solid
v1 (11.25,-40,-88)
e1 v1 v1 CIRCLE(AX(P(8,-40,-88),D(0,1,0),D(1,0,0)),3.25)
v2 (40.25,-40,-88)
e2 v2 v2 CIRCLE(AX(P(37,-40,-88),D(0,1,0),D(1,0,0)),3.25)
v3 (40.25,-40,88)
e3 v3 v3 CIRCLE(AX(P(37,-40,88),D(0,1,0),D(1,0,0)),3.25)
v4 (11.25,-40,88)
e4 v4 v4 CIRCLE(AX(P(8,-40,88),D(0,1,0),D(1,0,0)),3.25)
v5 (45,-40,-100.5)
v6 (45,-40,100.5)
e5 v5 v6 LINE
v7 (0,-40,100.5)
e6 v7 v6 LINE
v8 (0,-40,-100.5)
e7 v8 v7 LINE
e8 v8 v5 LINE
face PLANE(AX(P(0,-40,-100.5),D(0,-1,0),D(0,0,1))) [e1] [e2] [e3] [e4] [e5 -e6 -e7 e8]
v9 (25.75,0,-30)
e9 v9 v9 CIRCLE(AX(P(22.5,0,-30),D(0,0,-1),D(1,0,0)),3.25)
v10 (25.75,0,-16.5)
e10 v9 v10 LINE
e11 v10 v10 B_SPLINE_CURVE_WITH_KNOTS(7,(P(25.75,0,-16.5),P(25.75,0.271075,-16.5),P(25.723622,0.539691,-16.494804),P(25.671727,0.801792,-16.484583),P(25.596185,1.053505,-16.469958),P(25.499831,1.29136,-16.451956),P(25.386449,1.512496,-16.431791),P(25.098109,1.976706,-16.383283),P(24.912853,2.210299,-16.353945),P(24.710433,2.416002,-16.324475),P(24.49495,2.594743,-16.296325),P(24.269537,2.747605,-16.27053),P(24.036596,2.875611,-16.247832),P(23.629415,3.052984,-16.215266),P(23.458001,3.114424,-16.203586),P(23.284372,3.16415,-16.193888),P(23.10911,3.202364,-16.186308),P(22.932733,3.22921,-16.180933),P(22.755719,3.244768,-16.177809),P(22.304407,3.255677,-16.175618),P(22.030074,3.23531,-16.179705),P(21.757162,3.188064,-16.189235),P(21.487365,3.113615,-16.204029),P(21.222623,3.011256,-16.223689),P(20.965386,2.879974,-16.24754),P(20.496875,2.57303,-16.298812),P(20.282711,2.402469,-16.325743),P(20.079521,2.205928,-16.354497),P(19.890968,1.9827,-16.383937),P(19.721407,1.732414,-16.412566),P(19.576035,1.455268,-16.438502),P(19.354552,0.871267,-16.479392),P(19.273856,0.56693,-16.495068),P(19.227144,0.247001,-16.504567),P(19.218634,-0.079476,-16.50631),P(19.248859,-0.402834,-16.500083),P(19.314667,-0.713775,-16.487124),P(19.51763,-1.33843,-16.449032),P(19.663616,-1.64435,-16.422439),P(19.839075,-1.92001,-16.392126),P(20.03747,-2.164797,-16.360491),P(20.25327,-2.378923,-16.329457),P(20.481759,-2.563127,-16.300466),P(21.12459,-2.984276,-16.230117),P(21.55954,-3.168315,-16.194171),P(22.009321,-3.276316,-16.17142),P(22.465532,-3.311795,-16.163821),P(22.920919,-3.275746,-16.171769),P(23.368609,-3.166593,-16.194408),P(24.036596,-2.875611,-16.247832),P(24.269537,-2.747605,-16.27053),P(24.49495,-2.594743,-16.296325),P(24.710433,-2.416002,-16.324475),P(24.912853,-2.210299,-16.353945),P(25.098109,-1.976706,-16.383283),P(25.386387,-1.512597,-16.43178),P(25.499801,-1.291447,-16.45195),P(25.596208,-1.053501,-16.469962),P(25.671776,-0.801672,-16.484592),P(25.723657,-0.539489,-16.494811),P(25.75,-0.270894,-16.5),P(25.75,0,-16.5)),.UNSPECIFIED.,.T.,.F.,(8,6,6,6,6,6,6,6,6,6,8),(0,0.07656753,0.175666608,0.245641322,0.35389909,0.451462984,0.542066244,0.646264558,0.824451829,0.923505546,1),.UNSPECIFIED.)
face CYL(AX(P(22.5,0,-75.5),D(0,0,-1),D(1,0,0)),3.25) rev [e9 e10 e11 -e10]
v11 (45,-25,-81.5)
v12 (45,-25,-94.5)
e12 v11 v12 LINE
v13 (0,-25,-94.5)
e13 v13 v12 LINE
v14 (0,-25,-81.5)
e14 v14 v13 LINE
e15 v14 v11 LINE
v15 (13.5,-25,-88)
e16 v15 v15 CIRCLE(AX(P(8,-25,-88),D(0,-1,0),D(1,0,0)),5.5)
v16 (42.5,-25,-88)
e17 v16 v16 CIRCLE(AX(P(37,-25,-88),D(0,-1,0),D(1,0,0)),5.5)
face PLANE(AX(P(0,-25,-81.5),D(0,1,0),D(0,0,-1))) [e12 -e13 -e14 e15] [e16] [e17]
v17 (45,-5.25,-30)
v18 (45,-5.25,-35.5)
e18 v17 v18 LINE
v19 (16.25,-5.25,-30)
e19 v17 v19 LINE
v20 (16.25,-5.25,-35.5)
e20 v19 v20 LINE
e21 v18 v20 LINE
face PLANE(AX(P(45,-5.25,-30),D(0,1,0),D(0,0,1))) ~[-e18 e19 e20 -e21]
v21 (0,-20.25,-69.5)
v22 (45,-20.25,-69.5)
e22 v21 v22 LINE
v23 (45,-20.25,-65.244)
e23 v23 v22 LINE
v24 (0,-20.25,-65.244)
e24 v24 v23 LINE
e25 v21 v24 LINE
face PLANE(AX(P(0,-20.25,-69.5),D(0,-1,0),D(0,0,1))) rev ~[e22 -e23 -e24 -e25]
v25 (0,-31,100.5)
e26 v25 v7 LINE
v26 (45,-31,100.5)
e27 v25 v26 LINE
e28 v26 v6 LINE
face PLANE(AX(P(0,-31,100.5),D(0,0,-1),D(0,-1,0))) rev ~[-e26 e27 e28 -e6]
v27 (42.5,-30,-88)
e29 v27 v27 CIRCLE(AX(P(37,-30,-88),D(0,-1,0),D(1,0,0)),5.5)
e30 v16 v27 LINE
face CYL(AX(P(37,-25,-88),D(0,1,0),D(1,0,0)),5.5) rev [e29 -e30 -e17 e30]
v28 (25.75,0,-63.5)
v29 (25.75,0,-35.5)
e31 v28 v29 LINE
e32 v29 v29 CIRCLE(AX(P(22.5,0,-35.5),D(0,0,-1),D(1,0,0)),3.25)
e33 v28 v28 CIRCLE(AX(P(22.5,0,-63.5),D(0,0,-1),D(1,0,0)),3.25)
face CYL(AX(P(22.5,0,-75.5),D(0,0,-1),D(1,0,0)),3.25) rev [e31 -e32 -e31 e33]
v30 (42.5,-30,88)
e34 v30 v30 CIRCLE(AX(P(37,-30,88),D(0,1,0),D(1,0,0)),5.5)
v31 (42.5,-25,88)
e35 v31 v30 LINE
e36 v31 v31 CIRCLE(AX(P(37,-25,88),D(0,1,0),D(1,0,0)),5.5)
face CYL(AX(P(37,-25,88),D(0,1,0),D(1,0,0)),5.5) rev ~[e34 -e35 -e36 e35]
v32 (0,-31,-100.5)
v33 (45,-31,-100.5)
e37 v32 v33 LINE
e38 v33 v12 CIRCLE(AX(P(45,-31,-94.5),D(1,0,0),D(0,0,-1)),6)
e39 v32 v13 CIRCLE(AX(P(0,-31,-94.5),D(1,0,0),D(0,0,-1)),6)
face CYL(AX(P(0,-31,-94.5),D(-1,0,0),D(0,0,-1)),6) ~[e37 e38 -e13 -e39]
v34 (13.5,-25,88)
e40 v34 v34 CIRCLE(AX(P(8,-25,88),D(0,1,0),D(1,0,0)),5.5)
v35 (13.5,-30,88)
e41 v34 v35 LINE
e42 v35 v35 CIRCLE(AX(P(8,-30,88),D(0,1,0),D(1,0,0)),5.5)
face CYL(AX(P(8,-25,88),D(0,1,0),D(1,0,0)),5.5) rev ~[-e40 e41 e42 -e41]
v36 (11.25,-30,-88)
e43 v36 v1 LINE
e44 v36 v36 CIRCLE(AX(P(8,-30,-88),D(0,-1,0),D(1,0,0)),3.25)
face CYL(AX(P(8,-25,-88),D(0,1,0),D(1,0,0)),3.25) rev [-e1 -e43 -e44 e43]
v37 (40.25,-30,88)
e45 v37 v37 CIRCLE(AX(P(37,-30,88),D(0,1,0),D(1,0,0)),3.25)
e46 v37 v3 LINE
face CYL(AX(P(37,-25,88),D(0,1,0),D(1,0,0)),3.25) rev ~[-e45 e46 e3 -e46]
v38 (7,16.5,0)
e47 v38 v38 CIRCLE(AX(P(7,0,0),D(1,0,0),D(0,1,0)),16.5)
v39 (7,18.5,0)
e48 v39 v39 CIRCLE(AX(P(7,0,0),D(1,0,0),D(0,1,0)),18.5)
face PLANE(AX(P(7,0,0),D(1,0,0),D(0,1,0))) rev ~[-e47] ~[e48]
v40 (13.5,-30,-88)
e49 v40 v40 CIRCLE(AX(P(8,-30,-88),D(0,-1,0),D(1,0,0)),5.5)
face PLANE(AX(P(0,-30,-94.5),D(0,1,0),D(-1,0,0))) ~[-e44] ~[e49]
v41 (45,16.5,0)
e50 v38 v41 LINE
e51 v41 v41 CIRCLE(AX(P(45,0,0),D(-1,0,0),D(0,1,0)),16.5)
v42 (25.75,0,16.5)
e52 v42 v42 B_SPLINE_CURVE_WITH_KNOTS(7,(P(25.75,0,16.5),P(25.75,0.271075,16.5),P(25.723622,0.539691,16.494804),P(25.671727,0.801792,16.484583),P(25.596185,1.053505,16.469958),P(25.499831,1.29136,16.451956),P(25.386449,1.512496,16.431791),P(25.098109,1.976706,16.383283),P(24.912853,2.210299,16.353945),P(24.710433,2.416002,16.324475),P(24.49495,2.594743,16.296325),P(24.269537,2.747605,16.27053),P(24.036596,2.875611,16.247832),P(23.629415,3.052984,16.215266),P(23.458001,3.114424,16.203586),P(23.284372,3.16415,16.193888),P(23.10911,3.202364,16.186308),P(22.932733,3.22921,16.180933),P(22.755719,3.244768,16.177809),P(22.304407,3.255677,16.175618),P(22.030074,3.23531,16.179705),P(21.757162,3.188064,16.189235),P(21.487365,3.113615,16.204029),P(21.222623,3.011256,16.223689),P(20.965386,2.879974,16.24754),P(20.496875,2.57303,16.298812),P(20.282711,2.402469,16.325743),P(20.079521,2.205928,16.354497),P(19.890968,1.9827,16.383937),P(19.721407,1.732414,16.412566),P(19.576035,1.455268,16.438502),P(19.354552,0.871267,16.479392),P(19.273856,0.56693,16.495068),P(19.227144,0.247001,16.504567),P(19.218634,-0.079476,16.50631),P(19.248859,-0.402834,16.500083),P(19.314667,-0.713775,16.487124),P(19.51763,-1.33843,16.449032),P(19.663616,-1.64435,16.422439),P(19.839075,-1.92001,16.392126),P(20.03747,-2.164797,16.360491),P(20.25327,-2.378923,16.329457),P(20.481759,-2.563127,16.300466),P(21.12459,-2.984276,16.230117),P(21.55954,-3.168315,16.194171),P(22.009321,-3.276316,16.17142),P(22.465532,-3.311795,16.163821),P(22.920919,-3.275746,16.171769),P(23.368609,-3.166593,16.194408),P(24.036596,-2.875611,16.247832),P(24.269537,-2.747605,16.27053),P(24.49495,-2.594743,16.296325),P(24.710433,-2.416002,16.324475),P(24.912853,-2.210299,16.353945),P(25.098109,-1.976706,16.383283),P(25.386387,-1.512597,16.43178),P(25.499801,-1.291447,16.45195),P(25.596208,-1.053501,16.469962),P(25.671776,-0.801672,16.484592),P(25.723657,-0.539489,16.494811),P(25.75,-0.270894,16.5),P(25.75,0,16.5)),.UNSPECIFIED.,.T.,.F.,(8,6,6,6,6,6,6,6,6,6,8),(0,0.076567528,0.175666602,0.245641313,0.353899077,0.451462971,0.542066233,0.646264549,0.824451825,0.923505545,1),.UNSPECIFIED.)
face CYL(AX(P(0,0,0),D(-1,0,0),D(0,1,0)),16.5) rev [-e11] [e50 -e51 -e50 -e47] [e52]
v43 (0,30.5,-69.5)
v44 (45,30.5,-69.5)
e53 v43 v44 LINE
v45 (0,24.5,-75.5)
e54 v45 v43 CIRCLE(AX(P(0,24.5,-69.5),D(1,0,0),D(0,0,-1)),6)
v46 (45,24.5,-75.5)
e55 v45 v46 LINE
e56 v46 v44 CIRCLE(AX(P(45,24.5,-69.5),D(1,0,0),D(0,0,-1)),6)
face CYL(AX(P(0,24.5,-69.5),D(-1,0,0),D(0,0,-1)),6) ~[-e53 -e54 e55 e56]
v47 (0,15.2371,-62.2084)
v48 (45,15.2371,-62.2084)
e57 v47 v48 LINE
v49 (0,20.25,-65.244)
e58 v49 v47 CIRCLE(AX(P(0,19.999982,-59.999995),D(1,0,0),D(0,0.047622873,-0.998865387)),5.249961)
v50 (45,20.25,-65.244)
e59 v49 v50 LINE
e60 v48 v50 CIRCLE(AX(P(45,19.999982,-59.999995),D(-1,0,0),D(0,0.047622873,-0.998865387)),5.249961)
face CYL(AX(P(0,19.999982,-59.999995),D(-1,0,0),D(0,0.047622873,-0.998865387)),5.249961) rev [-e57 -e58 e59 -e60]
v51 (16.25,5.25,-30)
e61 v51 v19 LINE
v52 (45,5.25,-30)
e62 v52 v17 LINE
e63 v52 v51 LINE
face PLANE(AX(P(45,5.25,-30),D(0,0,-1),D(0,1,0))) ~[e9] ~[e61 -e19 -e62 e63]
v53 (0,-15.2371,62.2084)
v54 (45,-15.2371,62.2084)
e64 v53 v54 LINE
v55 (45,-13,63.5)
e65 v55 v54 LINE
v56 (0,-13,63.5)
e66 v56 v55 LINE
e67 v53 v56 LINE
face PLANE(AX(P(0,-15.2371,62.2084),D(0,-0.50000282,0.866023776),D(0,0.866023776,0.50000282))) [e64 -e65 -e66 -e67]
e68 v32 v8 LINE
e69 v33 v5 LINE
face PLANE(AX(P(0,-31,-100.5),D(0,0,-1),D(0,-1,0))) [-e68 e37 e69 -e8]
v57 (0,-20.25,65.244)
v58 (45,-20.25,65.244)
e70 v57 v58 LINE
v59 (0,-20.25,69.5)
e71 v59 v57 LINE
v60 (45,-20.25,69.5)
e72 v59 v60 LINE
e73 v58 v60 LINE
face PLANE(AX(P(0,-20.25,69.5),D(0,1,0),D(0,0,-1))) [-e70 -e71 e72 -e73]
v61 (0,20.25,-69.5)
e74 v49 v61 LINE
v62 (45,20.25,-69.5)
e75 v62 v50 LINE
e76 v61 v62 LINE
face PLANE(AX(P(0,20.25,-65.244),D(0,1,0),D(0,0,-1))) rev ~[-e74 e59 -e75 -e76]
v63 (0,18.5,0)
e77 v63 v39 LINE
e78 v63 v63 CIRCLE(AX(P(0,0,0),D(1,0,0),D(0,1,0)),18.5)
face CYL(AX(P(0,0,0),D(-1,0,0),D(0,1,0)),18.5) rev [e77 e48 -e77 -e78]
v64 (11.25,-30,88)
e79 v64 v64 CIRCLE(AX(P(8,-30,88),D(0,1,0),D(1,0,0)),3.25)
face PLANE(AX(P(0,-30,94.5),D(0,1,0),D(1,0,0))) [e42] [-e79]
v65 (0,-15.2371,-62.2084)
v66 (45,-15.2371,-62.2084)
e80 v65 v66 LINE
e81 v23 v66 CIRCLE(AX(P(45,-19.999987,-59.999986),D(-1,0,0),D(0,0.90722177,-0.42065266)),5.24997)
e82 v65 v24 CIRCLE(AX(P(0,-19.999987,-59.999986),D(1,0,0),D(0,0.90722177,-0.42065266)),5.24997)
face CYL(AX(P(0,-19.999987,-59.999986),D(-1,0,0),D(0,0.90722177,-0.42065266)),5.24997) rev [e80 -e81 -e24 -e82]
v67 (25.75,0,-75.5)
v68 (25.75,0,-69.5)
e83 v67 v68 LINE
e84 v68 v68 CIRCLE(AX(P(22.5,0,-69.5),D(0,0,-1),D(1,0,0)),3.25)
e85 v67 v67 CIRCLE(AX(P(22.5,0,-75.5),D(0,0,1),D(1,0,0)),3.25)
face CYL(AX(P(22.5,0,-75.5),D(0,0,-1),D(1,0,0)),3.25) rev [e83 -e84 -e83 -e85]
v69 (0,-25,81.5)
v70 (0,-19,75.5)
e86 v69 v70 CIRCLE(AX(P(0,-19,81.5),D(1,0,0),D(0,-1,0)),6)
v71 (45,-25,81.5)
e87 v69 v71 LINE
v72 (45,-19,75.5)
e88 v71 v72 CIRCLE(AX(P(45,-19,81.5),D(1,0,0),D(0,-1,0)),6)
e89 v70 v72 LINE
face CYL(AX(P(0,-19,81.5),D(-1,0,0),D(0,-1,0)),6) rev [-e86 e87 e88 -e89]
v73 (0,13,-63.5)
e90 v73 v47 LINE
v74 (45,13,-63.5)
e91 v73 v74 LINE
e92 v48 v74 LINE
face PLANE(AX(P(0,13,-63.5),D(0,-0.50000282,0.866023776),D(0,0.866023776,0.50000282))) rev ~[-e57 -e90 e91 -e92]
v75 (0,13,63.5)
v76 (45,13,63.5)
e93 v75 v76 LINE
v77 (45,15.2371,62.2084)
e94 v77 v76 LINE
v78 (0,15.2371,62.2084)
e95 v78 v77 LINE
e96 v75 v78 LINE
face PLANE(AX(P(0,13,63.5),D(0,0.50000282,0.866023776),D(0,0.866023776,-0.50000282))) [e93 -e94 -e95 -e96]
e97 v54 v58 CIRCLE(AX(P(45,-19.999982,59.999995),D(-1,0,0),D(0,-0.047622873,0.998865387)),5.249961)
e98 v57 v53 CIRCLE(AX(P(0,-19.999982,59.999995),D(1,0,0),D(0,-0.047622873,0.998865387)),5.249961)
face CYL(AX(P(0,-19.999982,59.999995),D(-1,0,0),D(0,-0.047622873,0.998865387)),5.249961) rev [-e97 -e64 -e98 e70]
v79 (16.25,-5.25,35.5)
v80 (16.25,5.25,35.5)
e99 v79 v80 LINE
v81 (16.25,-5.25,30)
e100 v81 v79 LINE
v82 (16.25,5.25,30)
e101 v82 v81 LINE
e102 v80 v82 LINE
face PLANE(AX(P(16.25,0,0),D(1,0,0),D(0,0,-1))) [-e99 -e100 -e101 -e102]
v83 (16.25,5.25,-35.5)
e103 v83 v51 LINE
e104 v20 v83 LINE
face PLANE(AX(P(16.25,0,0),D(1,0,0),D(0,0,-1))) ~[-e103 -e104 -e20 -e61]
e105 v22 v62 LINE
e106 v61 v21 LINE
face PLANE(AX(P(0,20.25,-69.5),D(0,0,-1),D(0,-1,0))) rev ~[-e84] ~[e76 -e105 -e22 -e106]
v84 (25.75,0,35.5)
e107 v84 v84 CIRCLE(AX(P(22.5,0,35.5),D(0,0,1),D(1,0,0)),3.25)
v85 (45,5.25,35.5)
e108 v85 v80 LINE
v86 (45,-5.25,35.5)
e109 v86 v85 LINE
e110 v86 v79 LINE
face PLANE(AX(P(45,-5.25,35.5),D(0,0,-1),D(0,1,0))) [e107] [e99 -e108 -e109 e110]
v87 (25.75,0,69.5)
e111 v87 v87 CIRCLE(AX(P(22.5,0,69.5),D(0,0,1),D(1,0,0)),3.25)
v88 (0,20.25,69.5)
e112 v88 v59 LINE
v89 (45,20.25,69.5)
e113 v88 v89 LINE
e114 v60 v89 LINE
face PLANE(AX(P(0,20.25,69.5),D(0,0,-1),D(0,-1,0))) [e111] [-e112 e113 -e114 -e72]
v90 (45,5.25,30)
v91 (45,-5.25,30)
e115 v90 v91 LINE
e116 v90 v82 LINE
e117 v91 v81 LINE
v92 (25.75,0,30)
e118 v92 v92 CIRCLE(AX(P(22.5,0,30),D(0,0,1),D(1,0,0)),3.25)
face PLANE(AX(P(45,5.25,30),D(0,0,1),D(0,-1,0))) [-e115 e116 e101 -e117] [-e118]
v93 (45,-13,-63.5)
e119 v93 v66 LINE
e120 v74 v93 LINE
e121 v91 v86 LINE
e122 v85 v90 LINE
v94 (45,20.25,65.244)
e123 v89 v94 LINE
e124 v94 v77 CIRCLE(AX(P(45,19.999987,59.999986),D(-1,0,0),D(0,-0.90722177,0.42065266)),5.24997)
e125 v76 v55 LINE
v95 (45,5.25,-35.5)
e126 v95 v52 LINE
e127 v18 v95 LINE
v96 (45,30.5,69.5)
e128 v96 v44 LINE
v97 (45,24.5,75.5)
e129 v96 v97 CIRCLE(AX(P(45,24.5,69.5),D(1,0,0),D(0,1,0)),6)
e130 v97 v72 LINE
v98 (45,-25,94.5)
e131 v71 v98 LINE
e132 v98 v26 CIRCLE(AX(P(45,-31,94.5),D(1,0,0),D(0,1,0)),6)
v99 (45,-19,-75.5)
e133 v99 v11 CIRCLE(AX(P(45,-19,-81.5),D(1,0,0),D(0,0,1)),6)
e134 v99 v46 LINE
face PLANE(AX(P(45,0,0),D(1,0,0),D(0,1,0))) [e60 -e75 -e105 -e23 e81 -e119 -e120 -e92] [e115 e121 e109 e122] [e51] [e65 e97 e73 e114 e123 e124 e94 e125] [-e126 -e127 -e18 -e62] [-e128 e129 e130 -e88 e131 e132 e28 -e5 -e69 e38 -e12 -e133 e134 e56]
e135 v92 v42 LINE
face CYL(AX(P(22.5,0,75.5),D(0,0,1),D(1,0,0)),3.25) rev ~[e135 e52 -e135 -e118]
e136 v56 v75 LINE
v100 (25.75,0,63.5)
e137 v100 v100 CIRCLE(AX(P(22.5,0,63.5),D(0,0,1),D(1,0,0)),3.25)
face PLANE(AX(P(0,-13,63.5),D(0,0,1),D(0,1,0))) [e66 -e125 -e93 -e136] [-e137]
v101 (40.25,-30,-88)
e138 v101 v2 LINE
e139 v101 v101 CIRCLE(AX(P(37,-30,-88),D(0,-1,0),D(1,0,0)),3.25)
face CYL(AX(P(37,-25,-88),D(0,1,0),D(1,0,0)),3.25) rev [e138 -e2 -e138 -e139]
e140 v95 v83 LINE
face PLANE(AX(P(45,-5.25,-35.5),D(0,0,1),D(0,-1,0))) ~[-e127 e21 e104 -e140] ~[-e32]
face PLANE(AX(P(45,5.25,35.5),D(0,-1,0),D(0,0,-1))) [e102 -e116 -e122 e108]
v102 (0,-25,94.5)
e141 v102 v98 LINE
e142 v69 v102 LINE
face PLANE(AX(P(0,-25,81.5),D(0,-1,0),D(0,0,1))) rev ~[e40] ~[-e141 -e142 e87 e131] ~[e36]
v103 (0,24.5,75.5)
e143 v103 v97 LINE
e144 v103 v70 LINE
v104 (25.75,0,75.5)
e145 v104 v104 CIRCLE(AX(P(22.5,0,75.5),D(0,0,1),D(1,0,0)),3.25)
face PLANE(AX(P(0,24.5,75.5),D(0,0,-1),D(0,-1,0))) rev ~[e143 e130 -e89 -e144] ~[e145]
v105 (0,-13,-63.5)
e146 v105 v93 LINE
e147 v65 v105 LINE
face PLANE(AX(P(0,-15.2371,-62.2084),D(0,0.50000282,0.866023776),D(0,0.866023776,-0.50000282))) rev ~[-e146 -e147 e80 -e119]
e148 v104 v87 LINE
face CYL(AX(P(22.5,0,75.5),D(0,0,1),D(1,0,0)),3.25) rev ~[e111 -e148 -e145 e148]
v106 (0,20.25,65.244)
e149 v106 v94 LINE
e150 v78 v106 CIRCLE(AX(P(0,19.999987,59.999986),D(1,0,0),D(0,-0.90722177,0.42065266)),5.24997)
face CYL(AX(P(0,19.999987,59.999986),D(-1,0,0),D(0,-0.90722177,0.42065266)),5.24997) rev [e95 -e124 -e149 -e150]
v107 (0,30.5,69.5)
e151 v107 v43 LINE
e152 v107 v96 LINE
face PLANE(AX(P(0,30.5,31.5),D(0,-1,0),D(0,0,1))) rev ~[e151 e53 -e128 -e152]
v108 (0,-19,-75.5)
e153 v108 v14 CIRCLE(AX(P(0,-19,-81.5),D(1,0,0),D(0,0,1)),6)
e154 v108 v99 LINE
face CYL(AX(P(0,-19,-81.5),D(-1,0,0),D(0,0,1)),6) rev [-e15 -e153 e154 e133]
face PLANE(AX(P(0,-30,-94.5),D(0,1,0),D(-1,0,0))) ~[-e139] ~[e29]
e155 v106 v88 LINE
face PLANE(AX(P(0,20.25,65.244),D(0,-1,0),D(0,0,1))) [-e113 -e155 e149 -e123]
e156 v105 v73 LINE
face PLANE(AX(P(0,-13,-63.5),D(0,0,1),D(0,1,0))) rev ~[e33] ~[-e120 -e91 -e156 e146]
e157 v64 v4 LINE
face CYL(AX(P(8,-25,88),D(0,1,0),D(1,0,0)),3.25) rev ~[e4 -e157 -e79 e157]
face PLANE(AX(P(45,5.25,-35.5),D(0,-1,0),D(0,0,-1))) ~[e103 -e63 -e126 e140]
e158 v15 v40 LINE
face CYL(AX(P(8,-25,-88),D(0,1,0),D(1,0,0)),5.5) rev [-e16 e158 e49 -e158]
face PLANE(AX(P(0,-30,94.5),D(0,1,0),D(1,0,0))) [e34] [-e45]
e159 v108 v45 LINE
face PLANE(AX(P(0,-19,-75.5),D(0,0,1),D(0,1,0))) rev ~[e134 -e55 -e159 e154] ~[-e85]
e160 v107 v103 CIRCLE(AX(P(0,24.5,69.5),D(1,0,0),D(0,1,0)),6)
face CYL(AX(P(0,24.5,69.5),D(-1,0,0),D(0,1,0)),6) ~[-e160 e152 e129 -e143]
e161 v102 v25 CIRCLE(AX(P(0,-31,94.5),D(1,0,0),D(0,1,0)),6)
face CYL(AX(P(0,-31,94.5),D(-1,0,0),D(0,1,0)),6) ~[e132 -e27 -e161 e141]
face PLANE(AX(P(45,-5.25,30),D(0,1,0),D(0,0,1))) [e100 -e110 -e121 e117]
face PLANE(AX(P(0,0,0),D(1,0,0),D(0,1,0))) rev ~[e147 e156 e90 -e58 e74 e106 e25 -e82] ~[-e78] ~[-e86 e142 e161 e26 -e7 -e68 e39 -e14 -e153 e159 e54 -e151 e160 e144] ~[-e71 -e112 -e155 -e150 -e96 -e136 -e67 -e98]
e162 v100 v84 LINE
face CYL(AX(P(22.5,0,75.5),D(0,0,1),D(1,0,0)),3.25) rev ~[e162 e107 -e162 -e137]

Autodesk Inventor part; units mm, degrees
ref_plane "YZ Plane" through (0, 0, 0) normal (1, 0, 0) x (0, 1, 0)
ref_plane "XZ Plane" through (0, 0, 0) normal (0, 1, 0) x (-1, 0, 0)
ref_plane "XY Plane" through (0, 0, 0) normal (0, 0, 1) x (1, 0, 0)
sketch "Szkic1" plane through (0, 0, 0) normal (1, 0, 0) x (0, 1, 0)
  circle A0 centre (0, 0) radius 16.5
  arc A1 (16.0869, 63.5) -> (15.2371, 62.2084) centre (20, 60) ccw construction
  arc A2 (-20.25, 65.244) -> (-15.2371, 62.2084) centre (-20, 60) ccw
  line L0 (20.25, 69.5) -> (-20.25, 69.5)
  line L1 (-20.25, 69.5) -> (-20.25, 65.244)
  line L2 (-20.25, 63.5) -> (-16.0869, 63.5) construction
  line L3 (20.25, 63.5) -> (20.25, 65.244) construction
  line L4 (16.0869, 63.5) -> (20.25, 63.5) construction
  line L5 (20.25, 65.244) -> (20.25, 69.5)
  line L6 (-20.25, 65.244) -> (-20.25, 63.5) construction
  line L7 (-16.0869, 63.5) -> (-13, 63.5) construction
  arc A3 (20.25, 65.244) -> (16.0869, 63.5) centre (20, 60) ccw construction
  arc A4 (-16.0869, 63.5) -> (-20.25, 65.244) centre (-20, 60) ccw construction
  line L8 (-15.2371, 62.2084) -> (-13, 63.5)
  line L9 (13, 63.5) -> (15.2371, 62.2084)
  arc A5 (15.2371, 62.2084) -> (20.25, 65.244) centre (20, 60) ccw
  line L10 (13, 63.5) -> (16.0869, 63.5) construction
  arc A6 (-15.2371, 62.2084) -> (-16.0869, 63.5) centre (-20, 60) ccw construction
  line L11 (-13, 63.5) -> (13, 63.5)
  line L12 (16.5, 0) -> (-16.5, 0) construction
  arc A7 (15.2371, -62.2084) -> (16.0869, -63.5) centre (20, -60) ccw construction
  arc A8 (-15.2371, -62.2084) -> (-20.25, -65.244) centre (-20, -60) ccw
  line L13 (20.25, -69.5) -> (-20.25, -69.5)
  line L14 (-20.25, -69.5) -> (-20.25, -65.244)
  line L15 (-20.25, -63.5) -> (-16.0869, -63.5) construction
  line L16 (20.25, -63.5) -> (20.25, -65.244) construction
  line L17 (16.0869, -63.5) -> (20.25, -63.5) construction
  line L18 (20.25, -65.244) -> (20.25, -69.5)
  line L19 (-20.25, -65.244) -> (-20.25, -63.5) construction
  line L20 (-16.0869, -63.5) -> (-13, -63.5) construction
  arc A9 (16.0869, -63.5) -> (20.25, -65.244) centre (20, -60) ccw construction
  arc A10 (-20.25, -65.244) -> (-16.0869, -63.5) centre (-20, -60) ccw construction
  line L21 (-15.2371, -62.2084) -> (-13, -63.5)
  line L22 (13, -63.5) -> (15.2371, -62.2084)
  arc A11 (20.25, -65.244) -> (15.2371, -62.2084) centre (20, -60) ccw
  line L23 (13, -63.5) -> (16.0869, -63.5) construction
  arc A12 (-16.0869, -63.5) -> (-15.2371, -62.2084) centre (-20, -60) ccw construction
  line L24 (-13, -63.5) -> (13, -63.5)
  line L25 (24.5, 75.5) -> (-19, 75.5)
  line L26 (-40, 75.5) -> (-40, -75.5)
  line L27 (-19, -75.5) -> (24.5, -75.5)
  line L28 (30.5, -69.5) -> (30.5, -31.5)
  arc A13 (30.5, 69.5) -> (24.5, 75.5) centre (24.5, 69.5) ccw
  arc A14 (24.5, -75.5) -> (30.5, -69.5) centre (24.5, -69.5) ccw
  line L29 (-40, 75.5) -> (-25, 75.5) construction
  line L30 (-25, 81.5) -> (-25, 94.5)
  line L31 (-31, 100.5) -> (-40, 100.5)
  line L32 (-40, 100.5) -> (-40, 75.5)
  arc A15 (-25, 94.5) -> (-31, 100.5) centre (-31, 94.5) ccw
  arc A16 (-25, 81.5) -> (-19, 75.5) centre (-19, 81.5) ccw
  line L33 (-40, -75.5) -> (-25, -75.5) construction
  line L34 (-25, -81.5) -> (-25, -94.5)
  line L35 (-31, -100.5) -> (-40, -100.5)
  line L36 (-40, -100.5) -> (-40, -75.5)
  arc A17 (-31, -100.5) -> (-25, -94.5) centre (-31, -94.5) ccw
  arc A18 (-19, -75.5) -> (-25, -81.5) centre (-19, -81.5) ccw
  line L37 (30.5, 25.5) -> (30.5, -25.5) construction
  line L38 (30.5, 31.5) -> (30.5, 69.5)
  line L39 (30.5, -31.5) -> (30.5, 31.5)
  circle A19 centre (0, 0) radius 18.5
  point P0 (-25, 100.5)
  point P1 (-25, -100.5)
  dimension "d0" = 33
  dimension "d1" = 10.5
  dimension "d3" = 20
  dimension "d4" = 60
  dimension "d6" = 6
  dimension "d8" = 3.5
  dimension "d9" = 150
  dimension "d10" = 150
  dimension "d11" = 26
  dimension "d12" = 13
  dimension "d13" = 6
  dimension "d14" = 6
  dimension "d15" = 10.5
  dimension "d16" = 20
  dimension "d17" = 6
  dimension "d18" = 15
  dimension "d19" = 25
  dimension "d20" = 6
  dimension "d21" = 15
  dimension "d22" = 25
  dimension "d23" = 6
  dimension "d50" = 37
  dimension "d55" = 40
  dimension "d56" = 0.25
  dimension "d57" = 0.25
extrude "Wyciągnięcie proste1" add sketch "Szkic1" along normal blind 45 contours A0 | L1 L0 L5 A5 L9 L11 L8 A2 | L21 L24 L22 A11 L18 L13 L14 A8 | A13 L38 L39 L28 A14 L27 A18 L34 A17 L35 L36 L26 L32 L31 A15 L30 A16 L25 | A19
extrude "Wyciągnięcie proste4" cut sketch "Szkic1" along normal through all contours A0 | L1 L0 L5 A5 L9 L11 L8 A2 | L21 L24 L22 A11 L18 L13 L14 A8
extrude "Wyciągnięcie proste7" cut sketch "Szkic1" along normal blind 7 contours A19
sketch "Szkic2" plane through (0, -25, 94.5) normal (0, 1, 0) x (1, 0, 0)
  circle A0 centre (37, 6.5) radius 5.5
  circle A1 centre (8, 6.5) radius 5.5
  circle A2 centre (37, 6.5) radius 3.25
  circle A3 centre (8, 6.5) radius 3.25
  line L0 (45, 13) -> (45, 0) projected
  line L1 (0, -6) -> (45, -6) projected
  line L2 (0, 13) -> (0, 0) projected
  point P0 (0, 94.5)
  dimension "d41" = 6.5
  dimension "d42" = 11
  dimension "d43" = 8
  dimension "d44" = 12.5
  dimension "d45" = 8
extrude "Wyciągnięcie proste5" cut sketch "Szkic2" against normal through all contours A2 | A3
extrude "Wyciągnięcie proste6" cut sketch "Szkic2" against normal blind 5
sketch "Szkic3" plane through (0, -19, 75.5) normal (0, 0, 1) x (1, 0, 0)
  line L0 (45, 32) -> (45, 6) projected
  line L1 (0, 32) -> (45, 32) projected
  line L2 (0, 6) -> (0, 32) projected
  line L3 (0, 6) -> (45, 6) projected
  line L4 (0, 6) -> (45, 6) projected
  line L5 (0, 32) -> (45, 6) construction
  line L6 (45, 32) -> (0, 6) construction
  circle A0 centre (22.5, 19) radius 3.25
  circle A1 centre (22.5, 19) radius 5.5
  point P0 (0, 19)
  dimension "d58" = 6.5
  dimension "d59" = 11
extrude "Wyciągnięcie proste9" cut sketch "Szkic3" against normal blind 60 contours A0
sketch "Szkic4" plane through (45, 0, 0) normal (1, 0, 0) x (0, 0, -1)
  line L0 (-35.5, 5.25) -> (-30, 5.25)
  line L1 (-30, 5.25) -> (-30, -5.25)
  line L2 (-30, -5.25) -> (-35.5, -5.25)
  line L3 (-35.5, -5.25) -> (-35.5, 5.25)
  line L4 (-75.5, 24.5) -> (-75.5, -19) projected
  point P0 (0, 0)
  dimension "d62" = 10.5
  dimension "d63" = 5.25
  dimension "d64" = 40
  dimension "d65" = 5.5
extrude "Wyciągnięcie proste10" cut sketch "Szkic4" against normal blind 28.75
mirror "Odbij3" about plane through (0, 0, 0) normal (0, 0, 1) of "Wyciągnięcie proste10", "Wyciągnięcie proste9", "Wyciągnięcie proste6", "Wyciągnięcie proste5"
equation "\"d3\" = 0.5 * d2"
equation "\"d12\" = 0.5 * d11"
equation "\"d14\" = d13"
equation "\"d2\" = 40"
properties part number "Y_motor_mount"
